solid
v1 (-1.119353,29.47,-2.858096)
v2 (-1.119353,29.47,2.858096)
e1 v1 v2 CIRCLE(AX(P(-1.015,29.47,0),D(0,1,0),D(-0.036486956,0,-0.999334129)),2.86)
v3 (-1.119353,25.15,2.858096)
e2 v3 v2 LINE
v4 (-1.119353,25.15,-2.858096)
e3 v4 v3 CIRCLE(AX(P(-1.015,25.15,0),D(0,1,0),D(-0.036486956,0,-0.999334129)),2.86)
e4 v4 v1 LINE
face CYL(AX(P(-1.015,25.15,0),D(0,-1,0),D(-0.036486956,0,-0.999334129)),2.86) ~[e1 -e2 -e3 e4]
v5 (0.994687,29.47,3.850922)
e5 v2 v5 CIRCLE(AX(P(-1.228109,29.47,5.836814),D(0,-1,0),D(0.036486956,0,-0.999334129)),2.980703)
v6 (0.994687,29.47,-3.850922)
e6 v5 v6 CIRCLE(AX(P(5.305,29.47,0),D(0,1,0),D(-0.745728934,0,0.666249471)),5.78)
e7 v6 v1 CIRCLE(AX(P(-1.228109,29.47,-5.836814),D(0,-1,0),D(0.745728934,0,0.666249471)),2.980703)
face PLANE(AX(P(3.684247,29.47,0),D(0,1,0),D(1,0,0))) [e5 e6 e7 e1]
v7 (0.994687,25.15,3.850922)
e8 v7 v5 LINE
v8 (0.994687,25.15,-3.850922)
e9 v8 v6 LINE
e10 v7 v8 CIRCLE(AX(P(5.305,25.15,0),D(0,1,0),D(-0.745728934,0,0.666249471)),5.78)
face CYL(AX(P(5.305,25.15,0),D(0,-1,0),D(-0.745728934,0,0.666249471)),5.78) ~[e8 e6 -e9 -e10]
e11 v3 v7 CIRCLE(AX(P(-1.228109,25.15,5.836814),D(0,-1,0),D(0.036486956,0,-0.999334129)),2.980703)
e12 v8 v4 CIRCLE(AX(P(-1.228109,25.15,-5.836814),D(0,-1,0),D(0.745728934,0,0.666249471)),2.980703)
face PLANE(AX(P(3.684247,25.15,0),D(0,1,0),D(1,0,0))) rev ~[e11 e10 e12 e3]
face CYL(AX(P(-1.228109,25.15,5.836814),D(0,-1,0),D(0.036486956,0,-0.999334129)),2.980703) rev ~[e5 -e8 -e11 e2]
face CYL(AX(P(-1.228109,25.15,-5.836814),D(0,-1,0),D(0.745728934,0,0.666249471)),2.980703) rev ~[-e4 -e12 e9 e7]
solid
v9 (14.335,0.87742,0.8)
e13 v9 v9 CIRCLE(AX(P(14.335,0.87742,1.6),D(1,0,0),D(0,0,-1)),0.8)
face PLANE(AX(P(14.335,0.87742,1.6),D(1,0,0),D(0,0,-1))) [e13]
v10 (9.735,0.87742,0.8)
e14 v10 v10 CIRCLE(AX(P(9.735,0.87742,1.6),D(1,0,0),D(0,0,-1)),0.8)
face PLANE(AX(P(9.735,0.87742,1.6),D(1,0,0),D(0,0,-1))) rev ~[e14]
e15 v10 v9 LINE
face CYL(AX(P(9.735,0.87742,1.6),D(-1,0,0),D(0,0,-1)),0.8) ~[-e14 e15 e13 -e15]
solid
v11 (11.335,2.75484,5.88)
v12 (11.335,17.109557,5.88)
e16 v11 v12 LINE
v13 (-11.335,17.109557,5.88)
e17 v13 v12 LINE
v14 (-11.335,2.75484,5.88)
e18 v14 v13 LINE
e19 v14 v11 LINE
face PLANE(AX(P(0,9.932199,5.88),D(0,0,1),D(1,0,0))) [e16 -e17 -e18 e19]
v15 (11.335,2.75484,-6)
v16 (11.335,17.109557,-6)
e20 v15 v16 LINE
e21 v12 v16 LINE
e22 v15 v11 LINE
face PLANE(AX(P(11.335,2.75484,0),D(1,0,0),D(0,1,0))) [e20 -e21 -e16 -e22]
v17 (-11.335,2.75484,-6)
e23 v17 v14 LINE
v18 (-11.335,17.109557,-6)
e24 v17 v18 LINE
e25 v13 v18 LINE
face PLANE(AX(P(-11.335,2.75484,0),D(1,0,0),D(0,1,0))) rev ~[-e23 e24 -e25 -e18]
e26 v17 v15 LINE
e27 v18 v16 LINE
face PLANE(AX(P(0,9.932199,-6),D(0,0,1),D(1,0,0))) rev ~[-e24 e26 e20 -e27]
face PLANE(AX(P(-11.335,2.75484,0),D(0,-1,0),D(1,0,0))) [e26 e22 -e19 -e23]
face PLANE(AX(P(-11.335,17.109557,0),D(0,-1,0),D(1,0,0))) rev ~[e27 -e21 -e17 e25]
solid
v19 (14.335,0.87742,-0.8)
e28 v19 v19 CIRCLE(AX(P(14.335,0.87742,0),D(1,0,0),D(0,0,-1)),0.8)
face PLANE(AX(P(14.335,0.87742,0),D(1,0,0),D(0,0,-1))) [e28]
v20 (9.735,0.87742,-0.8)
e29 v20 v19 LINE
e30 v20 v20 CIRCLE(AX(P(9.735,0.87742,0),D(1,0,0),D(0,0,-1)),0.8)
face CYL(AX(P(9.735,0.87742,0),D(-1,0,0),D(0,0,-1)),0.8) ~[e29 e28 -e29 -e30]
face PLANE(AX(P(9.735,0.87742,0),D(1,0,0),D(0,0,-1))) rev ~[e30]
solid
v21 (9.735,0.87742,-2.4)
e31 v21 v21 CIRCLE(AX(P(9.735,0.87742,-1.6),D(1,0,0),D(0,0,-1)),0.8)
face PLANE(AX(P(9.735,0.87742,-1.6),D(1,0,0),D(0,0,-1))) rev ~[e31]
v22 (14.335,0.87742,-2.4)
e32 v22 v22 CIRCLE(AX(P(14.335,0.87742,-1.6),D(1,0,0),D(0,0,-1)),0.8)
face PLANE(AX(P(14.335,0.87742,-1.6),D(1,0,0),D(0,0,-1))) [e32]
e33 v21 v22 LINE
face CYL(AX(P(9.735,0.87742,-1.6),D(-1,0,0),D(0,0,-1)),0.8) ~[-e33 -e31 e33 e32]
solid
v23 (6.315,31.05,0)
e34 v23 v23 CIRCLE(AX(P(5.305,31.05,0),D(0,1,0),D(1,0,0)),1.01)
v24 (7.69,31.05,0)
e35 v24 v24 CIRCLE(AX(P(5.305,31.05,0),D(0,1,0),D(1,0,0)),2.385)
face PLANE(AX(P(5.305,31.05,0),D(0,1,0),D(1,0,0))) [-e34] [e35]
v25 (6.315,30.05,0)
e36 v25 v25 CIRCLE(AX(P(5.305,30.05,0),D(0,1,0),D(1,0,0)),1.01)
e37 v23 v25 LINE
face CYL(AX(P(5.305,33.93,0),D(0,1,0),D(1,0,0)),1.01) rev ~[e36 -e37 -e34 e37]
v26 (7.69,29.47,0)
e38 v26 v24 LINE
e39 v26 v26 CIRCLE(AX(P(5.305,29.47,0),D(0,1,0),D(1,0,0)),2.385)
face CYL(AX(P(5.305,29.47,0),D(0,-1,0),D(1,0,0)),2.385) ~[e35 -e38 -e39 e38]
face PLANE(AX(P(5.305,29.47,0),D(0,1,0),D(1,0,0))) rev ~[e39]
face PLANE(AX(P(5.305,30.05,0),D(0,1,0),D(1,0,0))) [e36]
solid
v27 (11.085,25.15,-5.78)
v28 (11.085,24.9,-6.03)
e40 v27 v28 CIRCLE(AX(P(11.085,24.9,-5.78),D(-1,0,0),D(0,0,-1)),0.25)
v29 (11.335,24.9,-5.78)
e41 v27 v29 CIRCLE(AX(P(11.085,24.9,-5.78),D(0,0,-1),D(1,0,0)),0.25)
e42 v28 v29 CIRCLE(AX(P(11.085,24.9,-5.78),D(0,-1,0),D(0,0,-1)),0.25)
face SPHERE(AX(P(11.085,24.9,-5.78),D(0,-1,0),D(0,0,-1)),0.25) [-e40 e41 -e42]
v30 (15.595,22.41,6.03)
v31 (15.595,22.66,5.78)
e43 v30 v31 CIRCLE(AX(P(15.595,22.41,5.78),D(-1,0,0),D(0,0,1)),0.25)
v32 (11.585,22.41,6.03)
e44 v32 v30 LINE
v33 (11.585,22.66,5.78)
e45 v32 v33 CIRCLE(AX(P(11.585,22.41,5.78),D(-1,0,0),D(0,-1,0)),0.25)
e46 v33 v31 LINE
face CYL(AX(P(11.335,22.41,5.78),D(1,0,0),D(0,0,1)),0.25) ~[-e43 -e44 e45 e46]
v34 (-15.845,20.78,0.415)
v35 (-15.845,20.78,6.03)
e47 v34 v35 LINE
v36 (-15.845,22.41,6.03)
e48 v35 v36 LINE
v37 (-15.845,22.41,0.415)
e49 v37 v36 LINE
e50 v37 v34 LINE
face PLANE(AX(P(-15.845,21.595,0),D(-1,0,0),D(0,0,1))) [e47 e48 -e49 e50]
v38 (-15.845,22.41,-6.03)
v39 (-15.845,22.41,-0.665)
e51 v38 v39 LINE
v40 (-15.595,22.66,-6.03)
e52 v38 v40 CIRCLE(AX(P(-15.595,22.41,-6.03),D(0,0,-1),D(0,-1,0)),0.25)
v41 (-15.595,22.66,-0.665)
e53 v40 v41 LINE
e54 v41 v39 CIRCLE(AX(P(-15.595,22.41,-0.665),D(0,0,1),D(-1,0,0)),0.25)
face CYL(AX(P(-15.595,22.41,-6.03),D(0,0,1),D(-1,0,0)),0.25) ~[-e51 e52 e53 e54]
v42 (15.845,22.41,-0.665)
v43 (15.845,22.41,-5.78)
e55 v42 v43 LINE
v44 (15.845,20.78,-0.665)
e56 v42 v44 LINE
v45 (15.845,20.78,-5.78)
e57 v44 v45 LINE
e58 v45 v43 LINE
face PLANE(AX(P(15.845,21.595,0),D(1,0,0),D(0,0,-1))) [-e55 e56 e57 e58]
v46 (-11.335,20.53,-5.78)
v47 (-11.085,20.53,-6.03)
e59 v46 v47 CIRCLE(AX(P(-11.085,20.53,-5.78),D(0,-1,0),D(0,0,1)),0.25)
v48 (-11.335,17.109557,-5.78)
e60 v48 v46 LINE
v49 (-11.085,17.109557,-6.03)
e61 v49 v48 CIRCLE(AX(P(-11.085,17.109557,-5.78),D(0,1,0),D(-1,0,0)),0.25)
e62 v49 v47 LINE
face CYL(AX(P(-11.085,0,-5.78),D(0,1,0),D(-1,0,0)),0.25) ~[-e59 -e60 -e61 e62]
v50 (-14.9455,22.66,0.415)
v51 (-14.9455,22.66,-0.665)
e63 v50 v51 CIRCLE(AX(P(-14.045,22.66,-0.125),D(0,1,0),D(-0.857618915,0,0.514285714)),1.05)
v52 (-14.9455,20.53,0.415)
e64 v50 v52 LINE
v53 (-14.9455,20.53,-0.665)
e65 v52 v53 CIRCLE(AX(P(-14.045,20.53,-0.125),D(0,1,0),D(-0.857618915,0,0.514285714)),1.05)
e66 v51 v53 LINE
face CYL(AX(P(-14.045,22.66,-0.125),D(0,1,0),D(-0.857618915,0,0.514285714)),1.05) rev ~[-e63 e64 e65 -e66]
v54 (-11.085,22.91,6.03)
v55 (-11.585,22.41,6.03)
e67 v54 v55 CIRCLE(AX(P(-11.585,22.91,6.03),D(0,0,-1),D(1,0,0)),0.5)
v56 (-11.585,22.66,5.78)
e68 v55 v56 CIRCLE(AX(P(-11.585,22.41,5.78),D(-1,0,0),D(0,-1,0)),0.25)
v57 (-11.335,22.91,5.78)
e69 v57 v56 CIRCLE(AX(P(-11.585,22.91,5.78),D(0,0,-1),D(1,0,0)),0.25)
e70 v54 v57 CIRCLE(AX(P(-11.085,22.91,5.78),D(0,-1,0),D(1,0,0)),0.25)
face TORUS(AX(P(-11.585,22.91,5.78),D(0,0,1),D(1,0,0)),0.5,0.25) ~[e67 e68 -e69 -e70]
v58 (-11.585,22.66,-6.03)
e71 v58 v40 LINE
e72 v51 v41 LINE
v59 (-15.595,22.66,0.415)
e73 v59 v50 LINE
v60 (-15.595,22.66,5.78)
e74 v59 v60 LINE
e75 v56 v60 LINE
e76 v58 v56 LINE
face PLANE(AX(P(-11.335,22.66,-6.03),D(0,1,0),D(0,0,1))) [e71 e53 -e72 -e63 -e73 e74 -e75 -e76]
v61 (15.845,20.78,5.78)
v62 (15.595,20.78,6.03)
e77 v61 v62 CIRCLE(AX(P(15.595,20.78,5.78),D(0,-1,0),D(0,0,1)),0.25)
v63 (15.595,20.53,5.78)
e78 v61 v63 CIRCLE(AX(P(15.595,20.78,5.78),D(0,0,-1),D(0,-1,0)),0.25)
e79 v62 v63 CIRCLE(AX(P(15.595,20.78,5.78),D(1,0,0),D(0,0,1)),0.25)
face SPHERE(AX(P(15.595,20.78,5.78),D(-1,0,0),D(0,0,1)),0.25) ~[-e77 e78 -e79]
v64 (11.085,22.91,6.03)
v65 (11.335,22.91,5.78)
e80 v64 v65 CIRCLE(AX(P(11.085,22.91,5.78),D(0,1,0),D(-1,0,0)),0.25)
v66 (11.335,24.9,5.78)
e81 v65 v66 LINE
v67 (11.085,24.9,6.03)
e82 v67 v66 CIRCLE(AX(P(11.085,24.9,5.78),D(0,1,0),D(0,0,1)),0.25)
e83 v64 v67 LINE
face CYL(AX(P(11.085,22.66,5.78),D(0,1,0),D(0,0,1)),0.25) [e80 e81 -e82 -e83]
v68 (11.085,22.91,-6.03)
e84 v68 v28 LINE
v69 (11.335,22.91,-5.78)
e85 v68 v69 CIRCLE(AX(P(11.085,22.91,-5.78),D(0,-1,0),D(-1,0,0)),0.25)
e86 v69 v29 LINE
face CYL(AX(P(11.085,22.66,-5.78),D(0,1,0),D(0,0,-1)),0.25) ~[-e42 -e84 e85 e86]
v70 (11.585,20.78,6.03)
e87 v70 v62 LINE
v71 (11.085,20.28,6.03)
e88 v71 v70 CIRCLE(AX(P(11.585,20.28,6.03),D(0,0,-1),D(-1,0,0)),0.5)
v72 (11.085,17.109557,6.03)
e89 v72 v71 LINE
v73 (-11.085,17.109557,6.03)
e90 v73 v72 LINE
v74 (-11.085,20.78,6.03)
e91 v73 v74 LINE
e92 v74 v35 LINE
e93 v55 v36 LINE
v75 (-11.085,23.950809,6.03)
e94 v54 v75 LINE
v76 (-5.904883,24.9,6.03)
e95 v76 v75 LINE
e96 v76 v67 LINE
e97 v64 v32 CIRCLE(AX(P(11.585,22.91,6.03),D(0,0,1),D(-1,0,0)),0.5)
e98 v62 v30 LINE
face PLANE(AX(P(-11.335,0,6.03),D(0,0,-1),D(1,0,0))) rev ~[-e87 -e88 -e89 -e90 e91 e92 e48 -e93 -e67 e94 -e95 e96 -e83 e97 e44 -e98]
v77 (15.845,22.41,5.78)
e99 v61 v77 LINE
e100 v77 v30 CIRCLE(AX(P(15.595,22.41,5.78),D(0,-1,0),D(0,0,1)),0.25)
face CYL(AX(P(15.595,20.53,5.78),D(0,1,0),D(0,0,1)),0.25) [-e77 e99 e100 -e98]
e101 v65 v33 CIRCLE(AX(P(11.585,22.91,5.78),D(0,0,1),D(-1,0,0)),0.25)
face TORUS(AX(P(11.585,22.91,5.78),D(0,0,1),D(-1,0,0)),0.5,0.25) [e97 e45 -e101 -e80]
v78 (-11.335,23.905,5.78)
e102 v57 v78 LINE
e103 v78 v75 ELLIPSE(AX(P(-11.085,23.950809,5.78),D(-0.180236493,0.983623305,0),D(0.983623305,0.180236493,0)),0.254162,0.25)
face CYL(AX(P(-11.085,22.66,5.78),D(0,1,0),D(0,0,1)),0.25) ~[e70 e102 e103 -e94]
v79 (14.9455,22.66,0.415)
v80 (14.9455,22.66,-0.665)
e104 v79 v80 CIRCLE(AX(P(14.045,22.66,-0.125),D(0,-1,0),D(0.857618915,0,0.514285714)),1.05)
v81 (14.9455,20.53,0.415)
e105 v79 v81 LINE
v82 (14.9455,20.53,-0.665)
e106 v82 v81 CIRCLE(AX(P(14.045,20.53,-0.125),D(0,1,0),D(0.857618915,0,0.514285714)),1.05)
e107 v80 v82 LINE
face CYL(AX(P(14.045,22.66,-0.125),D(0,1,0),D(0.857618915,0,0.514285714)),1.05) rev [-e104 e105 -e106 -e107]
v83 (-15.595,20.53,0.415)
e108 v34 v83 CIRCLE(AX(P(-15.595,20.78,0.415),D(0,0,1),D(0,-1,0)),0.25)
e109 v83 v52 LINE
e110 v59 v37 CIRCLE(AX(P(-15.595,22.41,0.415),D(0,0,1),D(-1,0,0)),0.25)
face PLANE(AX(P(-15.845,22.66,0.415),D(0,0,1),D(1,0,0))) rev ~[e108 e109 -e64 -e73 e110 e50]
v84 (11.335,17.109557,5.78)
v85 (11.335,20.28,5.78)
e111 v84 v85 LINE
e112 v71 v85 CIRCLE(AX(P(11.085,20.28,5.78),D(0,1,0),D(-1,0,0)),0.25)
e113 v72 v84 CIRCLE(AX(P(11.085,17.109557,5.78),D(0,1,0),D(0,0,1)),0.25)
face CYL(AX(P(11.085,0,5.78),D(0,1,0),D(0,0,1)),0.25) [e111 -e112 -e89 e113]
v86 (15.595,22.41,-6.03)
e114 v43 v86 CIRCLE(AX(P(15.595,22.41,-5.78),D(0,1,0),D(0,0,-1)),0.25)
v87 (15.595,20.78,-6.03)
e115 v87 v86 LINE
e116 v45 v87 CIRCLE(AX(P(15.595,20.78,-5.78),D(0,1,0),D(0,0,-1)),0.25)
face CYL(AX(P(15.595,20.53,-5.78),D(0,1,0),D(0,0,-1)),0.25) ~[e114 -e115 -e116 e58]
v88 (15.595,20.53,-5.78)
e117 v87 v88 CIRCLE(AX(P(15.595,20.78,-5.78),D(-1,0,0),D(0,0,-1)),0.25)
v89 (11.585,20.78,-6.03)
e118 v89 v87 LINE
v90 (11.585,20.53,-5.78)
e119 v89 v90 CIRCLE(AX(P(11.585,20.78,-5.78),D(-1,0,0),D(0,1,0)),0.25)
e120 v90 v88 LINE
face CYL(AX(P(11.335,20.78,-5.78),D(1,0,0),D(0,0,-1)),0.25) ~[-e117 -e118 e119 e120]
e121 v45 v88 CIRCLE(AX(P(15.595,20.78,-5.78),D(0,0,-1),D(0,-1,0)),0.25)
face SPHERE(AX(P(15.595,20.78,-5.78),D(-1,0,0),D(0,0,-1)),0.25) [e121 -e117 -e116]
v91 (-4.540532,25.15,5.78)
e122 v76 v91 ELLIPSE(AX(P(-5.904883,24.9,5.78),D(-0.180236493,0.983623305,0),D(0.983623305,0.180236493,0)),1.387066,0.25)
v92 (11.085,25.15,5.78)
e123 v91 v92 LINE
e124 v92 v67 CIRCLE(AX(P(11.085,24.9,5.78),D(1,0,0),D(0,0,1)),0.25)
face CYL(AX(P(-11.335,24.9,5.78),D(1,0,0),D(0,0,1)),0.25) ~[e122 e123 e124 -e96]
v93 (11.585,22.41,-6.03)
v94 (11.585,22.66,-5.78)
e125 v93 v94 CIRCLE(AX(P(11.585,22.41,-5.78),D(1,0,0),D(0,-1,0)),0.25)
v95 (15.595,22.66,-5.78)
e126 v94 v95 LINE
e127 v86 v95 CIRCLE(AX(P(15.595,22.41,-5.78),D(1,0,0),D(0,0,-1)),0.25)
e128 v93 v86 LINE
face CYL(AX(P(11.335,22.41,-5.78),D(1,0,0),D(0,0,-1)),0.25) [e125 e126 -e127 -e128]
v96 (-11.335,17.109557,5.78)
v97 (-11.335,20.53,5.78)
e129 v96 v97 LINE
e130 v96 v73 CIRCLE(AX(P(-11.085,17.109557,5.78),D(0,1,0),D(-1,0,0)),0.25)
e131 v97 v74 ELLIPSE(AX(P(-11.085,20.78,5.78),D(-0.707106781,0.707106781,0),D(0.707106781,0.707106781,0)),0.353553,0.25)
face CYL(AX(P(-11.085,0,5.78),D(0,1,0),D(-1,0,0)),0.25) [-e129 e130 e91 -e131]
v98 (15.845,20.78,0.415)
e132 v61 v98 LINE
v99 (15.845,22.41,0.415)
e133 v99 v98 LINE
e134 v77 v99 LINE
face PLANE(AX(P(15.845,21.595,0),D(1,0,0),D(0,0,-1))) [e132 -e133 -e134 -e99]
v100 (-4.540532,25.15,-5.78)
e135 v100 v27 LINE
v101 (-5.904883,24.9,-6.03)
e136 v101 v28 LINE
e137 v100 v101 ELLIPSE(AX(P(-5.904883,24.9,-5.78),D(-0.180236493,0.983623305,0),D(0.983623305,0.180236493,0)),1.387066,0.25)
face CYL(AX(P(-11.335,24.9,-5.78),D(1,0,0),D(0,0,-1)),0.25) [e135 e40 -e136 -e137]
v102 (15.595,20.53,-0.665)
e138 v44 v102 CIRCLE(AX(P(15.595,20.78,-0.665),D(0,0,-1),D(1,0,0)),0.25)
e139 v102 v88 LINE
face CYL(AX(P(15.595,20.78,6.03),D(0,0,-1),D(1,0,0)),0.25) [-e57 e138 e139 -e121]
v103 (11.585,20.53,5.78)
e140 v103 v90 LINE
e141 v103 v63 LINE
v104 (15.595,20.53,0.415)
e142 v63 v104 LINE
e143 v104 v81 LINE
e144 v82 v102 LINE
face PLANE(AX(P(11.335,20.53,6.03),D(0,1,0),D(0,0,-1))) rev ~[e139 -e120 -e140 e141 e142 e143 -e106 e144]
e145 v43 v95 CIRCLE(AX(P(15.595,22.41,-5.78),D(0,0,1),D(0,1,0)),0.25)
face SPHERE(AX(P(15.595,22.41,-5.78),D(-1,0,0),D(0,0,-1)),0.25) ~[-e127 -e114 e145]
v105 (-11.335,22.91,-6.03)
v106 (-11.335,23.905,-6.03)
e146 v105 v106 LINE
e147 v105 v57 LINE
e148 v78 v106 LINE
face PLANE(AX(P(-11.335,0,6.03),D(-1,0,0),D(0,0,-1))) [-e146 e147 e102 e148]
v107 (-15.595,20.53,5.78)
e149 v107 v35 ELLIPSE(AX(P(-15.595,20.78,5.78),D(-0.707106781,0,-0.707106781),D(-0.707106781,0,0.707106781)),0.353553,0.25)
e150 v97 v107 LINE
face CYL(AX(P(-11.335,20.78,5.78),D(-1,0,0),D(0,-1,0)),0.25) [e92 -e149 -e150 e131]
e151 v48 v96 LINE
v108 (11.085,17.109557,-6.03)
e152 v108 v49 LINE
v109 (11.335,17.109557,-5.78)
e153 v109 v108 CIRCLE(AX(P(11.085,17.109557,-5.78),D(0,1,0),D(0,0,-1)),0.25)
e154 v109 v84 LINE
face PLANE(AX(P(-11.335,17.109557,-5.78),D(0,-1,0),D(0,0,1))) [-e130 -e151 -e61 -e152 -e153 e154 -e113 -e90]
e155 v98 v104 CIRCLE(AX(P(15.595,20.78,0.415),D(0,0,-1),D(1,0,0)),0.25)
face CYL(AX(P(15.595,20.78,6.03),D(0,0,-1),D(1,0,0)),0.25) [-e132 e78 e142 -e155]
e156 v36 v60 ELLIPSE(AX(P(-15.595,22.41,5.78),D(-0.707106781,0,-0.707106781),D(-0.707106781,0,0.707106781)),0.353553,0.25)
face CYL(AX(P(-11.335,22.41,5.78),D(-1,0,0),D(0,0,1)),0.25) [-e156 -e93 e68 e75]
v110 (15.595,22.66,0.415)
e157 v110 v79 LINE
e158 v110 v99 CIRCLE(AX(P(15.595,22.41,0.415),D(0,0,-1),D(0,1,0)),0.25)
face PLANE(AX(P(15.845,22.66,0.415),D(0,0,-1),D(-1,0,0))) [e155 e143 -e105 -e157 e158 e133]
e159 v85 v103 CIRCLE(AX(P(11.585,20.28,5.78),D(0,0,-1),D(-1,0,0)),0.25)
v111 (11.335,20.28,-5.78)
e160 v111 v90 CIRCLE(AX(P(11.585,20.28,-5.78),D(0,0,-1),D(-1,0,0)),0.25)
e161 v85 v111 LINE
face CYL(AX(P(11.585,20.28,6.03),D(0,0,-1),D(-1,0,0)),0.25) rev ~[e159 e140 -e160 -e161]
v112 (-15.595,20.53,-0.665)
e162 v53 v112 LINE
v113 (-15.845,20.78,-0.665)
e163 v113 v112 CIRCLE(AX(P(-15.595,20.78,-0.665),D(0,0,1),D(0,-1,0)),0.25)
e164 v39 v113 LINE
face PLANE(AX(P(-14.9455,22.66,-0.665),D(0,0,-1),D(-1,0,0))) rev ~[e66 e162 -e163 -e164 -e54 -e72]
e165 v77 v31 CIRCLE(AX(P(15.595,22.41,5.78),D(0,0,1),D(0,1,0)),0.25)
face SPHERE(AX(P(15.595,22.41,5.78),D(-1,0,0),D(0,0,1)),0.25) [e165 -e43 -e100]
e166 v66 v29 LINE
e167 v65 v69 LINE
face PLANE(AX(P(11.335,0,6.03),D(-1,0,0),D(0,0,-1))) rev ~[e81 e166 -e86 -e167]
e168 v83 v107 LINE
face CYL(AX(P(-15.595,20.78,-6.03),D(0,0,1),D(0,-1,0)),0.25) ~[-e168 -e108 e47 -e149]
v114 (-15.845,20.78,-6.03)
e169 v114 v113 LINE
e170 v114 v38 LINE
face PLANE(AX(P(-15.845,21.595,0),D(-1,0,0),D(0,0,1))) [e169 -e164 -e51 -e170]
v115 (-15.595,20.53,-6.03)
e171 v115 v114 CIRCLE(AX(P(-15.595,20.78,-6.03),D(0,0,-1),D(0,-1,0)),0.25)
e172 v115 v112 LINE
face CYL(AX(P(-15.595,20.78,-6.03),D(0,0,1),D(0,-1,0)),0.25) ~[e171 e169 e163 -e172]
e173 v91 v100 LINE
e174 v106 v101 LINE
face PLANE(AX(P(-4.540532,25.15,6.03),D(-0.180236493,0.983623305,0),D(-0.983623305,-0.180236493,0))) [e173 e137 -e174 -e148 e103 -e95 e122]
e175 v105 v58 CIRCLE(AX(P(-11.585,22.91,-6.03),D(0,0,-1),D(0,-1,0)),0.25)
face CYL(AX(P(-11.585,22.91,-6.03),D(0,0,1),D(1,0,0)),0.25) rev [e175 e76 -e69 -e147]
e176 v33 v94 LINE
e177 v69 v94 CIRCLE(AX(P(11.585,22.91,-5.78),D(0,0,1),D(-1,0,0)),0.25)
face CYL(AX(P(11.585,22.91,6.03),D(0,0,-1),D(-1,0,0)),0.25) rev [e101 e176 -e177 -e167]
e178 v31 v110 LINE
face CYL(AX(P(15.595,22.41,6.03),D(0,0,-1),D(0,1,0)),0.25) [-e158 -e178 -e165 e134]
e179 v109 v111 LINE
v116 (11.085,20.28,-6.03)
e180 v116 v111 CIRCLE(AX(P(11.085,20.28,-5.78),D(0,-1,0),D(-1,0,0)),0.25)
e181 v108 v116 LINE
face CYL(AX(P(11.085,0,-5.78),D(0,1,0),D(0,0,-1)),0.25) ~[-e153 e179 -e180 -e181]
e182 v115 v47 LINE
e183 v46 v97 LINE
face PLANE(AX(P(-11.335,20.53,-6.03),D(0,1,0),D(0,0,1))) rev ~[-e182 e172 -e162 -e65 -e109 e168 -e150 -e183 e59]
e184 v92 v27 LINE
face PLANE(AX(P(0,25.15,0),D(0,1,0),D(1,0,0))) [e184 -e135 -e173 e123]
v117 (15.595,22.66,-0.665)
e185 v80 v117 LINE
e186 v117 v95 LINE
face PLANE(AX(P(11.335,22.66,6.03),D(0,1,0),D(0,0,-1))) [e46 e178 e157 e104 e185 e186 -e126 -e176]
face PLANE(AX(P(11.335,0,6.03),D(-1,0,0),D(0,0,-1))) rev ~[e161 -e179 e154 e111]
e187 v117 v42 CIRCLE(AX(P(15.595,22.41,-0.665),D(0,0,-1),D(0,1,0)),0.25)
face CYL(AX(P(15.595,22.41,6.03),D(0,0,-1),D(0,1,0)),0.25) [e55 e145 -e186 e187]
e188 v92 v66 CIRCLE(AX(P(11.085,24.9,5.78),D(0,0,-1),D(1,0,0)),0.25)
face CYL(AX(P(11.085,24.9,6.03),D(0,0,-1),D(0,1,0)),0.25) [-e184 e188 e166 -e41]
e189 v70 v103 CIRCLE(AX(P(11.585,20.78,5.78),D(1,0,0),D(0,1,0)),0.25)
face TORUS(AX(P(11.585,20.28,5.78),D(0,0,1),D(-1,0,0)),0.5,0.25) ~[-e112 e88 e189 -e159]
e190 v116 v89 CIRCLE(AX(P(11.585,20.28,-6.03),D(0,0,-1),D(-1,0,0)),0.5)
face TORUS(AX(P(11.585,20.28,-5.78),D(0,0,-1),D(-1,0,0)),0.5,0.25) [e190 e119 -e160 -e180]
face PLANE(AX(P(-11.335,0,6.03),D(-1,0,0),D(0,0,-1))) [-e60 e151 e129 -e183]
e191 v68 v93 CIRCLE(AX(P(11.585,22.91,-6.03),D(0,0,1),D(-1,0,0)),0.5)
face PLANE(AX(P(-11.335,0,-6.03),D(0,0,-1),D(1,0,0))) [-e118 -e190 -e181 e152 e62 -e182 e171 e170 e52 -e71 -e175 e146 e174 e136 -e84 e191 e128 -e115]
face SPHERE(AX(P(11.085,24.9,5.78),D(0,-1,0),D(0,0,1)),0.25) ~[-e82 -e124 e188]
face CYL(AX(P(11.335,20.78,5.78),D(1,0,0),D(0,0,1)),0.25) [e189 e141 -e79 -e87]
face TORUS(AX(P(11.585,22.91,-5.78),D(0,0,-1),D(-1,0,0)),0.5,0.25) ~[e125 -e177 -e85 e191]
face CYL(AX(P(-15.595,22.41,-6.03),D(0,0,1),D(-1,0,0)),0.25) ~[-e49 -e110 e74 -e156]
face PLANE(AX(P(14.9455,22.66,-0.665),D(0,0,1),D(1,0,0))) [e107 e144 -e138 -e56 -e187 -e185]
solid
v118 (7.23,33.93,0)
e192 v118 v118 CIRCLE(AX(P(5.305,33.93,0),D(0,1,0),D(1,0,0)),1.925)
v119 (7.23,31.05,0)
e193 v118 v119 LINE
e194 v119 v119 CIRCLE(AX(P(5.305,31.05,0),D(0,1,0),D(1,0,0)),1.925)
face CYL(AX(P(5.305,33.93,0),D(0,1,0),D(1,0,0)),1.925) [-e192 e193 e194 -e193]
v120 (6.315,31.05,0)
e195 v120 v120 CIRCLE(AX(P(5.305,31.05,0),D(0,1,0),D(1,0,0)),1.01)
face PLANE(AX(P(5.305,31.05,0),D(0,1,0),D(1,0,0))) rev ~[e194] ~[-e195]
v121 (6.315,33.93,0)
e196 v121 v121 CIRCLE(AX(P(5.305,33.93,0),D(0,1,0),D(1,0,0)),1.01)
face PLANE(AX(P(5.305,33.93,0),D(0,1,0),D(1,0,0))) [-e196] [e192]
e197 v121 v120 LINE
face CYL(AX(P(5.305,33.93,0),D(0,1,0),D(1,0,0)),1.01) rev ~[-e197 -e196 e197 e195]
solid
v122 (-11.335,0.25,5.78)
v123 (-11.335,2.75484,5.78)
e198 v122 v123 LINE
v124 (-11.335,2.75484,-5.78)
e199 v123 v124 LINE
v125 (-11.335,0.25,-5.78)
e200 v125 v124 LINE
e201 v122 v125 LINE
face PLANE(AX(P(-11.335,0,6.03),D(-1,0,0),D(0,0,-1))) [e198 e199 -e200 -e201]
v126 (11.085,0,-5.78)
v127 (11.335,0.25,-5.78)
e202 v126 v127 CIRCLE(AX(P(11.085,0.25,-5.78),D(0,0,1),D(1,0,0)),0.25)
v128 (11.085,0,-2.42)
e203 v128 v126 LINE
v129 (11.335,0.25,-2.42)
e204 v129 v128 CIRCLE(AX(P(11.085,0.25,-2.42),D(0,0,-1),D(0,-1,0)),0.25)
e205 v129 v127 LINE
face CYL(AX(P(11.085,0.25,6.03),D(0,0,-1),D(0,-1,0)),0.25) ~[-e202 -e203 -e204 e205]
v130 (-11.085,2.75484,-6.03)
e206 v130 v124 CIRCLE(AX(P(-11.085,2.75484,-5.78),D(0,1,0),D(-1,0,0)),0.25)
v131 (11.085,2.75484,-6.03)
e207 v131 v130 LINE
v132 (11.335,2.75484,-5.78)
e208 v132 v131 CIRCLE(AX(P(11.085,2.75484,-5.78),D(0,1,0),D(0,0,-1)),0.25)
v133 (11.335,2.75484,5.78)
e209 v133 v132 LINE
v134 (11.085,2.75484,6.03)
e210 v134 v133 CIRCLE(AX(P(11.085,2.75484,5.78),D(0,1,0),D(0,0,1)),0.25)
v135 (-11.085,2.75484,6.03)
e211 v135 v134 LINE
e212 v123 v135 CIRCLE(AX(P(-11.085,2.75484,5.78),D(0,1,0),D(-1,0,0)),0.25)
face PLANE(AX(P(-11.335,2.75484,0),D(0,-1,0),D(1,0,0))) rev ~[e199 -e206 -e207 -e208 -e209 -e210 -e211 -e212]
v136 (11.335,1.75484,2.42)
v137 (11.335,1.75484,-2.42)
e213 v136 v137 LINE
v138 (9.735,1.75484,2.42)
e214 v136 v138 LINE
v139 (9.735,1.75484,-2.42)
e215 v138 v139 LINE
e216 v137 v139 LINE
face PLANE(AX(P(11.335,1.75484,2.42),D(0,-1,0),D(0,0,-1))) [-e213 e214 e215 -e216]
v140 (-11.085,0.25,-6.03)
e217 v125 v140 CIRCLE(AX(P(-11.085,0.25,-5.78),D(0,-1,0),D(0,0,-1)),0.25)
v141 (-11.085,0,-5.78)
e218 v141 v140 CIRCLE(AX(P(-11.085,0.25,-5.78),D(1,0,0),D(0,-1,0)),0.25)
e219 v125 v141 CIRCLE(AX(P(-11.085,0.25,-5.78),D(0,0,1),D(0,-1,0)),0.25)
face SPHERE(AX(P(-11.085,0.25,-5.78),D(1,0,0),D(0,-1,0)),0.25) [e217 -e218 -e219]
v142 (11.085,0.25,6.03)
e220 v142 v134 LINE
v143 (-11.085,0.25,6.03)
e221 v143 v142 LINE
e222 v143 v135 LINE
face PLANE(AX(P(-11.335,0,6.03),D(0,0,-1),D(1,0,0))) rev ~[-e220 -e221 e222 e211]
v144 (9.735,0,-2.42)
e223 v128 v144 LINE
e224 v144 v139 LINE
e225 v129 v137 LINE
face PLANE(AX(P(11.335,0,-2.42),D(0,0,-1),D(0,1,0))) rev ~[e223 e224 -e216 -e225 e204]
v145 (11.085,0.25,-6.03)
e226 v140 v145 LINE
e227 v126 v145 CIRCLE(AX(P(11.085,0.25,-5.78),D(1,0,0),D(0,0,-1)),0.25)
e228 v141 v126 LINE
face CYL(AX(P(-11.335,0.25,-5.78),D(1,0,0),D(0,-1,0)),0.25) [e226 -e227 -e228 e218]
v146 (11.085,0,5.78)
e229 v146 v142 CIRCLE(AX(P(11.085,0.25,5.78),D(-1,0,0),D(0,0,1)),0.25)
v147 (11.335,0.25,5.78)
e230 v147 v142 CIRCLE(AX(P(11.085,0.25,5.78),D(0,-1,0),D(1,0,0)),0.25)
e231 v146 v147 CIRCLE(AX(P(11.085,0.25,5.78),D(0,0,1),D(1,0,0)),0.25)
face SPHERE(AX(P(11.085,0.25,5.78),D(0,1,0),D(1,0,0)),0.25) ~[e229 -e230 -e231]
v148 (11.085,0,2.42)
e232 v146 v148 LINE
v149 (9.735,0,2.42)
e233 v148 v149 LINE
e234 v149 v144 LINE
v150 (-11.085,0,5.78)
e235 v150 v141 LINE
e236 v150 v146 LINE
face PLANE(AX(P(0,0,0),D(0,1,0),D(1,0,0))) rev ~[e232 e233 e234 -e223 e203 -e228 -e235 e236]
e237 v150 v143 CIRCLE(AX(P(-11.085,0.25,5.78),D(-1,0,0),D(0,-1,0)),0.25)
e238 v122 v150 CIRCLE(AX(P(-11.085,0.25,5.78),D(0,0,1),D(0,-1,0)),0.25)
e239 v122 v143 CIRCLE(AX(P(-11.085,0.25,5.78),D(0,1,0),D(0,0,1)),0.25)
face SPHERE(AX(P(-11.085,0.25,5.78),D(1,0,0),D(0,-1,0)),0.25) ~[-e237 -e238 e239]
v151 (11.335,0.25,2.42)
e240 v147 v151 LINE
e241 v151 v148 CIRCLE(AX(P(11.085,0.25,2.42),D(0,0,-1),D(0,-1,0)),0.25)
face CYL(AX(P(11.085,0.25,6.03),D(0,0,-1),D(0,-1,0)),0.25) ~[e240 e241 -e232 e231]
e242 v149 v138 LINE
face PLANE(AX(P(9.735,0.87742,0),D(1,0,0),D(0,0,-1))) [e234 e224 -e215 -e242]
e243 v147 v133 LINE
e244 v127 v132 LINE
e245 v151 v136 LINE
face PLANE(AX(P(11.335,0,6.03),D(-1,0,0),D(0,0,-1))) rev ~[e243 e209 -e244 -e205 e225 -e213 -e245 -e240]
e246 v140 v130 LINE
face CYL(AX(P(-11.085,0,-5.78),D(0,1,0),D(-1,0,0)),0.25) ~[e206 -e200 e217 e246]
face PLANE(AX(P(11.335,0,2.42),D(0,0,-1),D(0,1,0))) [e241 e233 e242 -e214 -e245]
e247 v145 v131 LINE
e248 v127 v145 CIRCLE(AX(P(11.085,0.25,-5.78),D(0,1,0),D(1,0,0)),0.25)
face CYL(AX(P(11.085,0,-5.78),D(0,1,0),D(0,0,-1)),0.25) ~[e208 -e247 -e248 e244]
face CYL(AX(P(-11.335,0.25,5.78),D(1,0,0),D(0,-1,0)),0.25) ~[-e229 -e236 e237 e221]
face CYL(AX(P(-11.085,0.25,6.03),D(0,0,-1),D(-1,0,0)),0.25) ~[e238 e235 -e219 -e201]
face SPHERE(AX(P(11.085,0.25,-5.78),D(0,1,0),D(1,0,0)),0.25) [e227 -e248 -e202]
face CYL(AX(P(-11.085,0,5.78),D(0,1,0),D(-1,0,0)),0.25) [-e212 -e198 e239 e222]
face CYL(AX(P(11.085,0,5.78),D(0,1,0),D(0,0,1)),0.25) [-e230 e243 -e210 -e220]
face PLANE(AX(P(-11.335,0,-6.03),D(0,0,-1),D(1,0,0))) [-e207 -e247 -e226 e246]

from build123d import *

# Parameters (mm, degrees)
CROQUIS1_W                   = 22.67
CROQUIS1_H                   = 12.06
SALIENTE_EXTRUIR1_DEPTH      = 25.15
CROQUIS2_W                   = 12.06
CROQUIS2_H                   = 2.13
SALIENTE_EXTRUIR2_DEPTH      = 4.51
CROQUIS5_W                   = 12.06
CROQUIS5_H                   = 2.13
SALIENTE_EXTRUIR3_DEPTH      = 4.51
REDONDEO1_R                  = 0.25
CORTAR_EXTRUIR12_DEPTH       = 4.51
SALIENTE_EXTRUIR4_DEPTH      = 4.32
CROQUIS9_R                   = 2.385
SALIENTE_EXTRUIR5_DEPTH      = 1.58
CROQUIS10_R                  = 2.385
SALIENTE_EXTRUIR6_DEPTH      = 2.88
CROQUIS11_R                  = 1.01
CORTAR_EXTRUIR13_DEPTH       = 3.88
CROQUIS12_R                  = 2.385
CROQUIS12_R_2                = 1.925
CORTAR_EXTRUIR14_DEPTH       = 2.88
CORTAR_EXTRUIR15_DEPTH       = 16.88
CROQUIS14_W                  = 22.17
CROQUIS14_H                  = 14.33
CORTAR_EXTRUIR16_DEPTH       = 16.88
CROQUIS16_W                  = 11.56
CROQUIS16_H                  = 14.354716837
CORTAR_EXTRUIR17_DEPTH       = 27.88
CROQUIS17_W                  = 22.67
CROQUIS17_H                  = 14.354716837
CORTAR_EXTRUIR18_DEPTH       = 27.88
CORTAR_EXTRUIR18_DEPTH_BACK  = 27.88
CROQUIS18_W                  = 22.67
CROQUIS18_H                  = 14.354716837
SALIENTE_EXTRUIR7_DEPTH      = 5.88
SALIENTE_EXTRUIR7_DEPTH_BACK = 6
CROQUIS19_W                  = 4.84
CROQUIS19_H                  = 1.754840309
CORTAR_EXTRUIR19_DEPTH       = 1.6
CROQUIS20_R                  = 0.8
SALIENTE_EXTRUIR8_DEPTH      = 4.6
SALIENTE_EXTRUIR8_2_DEPTH    = 4.6
SALIENTE_EXTRUIR8_3_DEPTH    = 4.6


with BuildPart() as part:
    # Croquis1 → Saliente-Extruir1 (new body)
    with BuildSketch(Plane(origin=(0, 0, 0), x_dir=(1, 0, 0), z_dir=(0, 1, 0))):
        Rectangle(CROQUIS1_W, CROQUIS1_H)
    extrude(amount=SALIENTE_EXTRUIR1_DEPTH)

    # Croquis2 → Saliente-Extruir2 (add)
    with BuildSketch(Plane(origin=(11.335, 0, 0), x_dir=(0, 0, -1), z_dir=(1, 0, 0))):
        with Locations((0, 21.595)):
            Rectangle(CROQUIS2_W, CROQUIS2_H)
    extrude(amount=SALIENTE_EXTRUIR2_DEPTH)

    # Croquis5 → Saliente-Extruir3 (add)
    with BuildSketch(Plane.ZY.offset(11.335)):
        with Locations((0, 21.595)):
            Rectangle(CROQUIS5_W, CROQUIS5_H)
    extrude(amount=SALIENTE_EXTRUIR3_DEPTH)

    # Redondeo1
    redondeo1_edges = [part.edges().sort_by_distance(p)[0] for p in [
        (-11.335, 23.905, 6.03),
        (11.335, 10.265, 6.03),
        (11.335, 23.905, 6.03),
        (11.335, 23.905, -6.03),
        (11.335, 10.265, -6.03),
        (11.335, 0, 0),
        (0, 0, -6.03),
        (0, 0, 6.03),
        (-11.335, 0, 0),
        (-11.335, 10.265, -6.03),
        (-11.335, 10.265, 6.03),
        (-13.59, 20.53, 6.03),
        (-13.59, 22.66, 6.03),
        (0, 25.15, -6.03),
        (0, 25.15, 6.03),
        (-11.335, 22.66, 0),
        (-11.335, 25.15, 0),
        (11.335, 25.15, 0),
        (13.59, 20.53, 6.03),
        (13.59, 22.66, 6.03),
        (13.59, 22.66, -6.03),
        (13.59, 20.53, -6.03),
        (11.335, 20.53, 0),
        (11.335, 22.66, 0),
        (15.845, 21.595, -6.03),
        (15.845, 21.595, 6.03),
        (15.845, 20.53, 0),
        (15.845, 22.66, 0),
        (-15.845, 20.53, 0),
        (-15.845, 22.66, 0),
    ]]
    fillet(redondeo1_edges, radius=REDONDEO1_R)

    # Croquis6 → Cortar-Extruir12 (cut)
    with BuildSketch(Plane(origin=(0, 22.66, 0), x_dir=(1, 0, 0), z_dir=(0, 1, 0))):
        with BuildLine():
            Line((-14.945499861, 0.665), (-15.845, 0.665))
            Line((-15.845, 0.665), (-15.845, -0.415))
            Line((-15.845, -0.415), (-14.945499861, -0.415))
            ThreePointArc((-14.945499861, -0.415), (-12.995, 0.125), (-14.945499861, 0.665))
        make_face()
        with BuildLine():
            Line((15.845, -0.415), (14.945499861, -0.415))
            ThreePointArc((14.945499861, -0.415), (12.995, 0.125), (14.945499861, 0.665))
            Line((14.945499861, 0.665), (15.845, 0.665))
            Line((15.845, 0.665), (15.845, -0.415))
        make_face()
    extrude(amount=-CORTAR_EXTRUIR12_DEPTH, mode=Mode.SUBTRACT)

    # Croquis13 → Cortar-Extruir15 (cut)
    with BuildSketch(Plane.XY.offset(6.03)):
        Polygon((-4.540532383, 25.15), (-11.335, 23.905), (-11.335, 25.15), align=None)
    extrude(amount=-CORTAR_EXTRUIR15_DEPTH, mode=Mode.SUBTRACT)

    # Croquis14 → Cortar-Extruir16 (cut)
    with BuildSketch(Plane.XY.offset(6.03)):
        with Locations((0, 9.935)):
            Rectangle(CROQUIS14_W, CROQUIS14_H)
    extrude(amount=-CORTAR_EXTRUIR16_DEPTH, mode=Mode.SUBTRACT)

    # Croquis16 → Cortar-Extruir17 (cut)
    with BuildSketch(Plane.ZY.offset(11.335)):
        with Locations((0, 9.932198727)):
            Rectangle(CROQUIS16_W, CROQUIS16_H)
    extrude(amount=-CORTAR_EXTRUIR17_DEPTH, mode=Mode.SUBTRACT)

    # Croquis17 → Cortar-Extruir18 (cut, two sides)
    with BuildSketch(Plane.XY) as cortar_extruir18_sk:
        with Locations((0, 9.932198727)):
            Rectangle(CROQUIS17_W, CROQUIS17_H)
    extrude(amount=CORTAR_EXTRUIR18_DEPTH, mode=Mode.SUBTRACT)
    extrude(cortar_extruir18_sk.sketch, amount=-CORTAR_EXTRUIR18_DEPTH_BACK, mode=Mode.SUBTRACT)

    # Croquis19 → Cortar-Extruir19 (cut)
    with BuildSketch(Plane(origin=(11.335, 0, 0), x_dir=(0, 0, -1), z_dir=(1, 0, 0))):
        with Locations((0, 0.877420155)):
            Rectangle(CROQUIS19_W, CROQUIS19_H)
    extrude(amount=-CORTAR_EXTRUIR19_DEPTH, mode=Mode.SUBTRACT)


with BuildPart() as body_2:
    # Croquis8 → Saliente-Extruir4 (new body)
    with BuildSketch(Plane(origin=(0, 25.15, 0), x_dir=(1, 0, 0), z_dir=(0, 1, 0))):
        with BuildLine():
            ThreePointArc((0.994686763, -3.850921942), (11.085, 0), (0.994686763, 3.850921942))
            ThreePointArc((0.994686763, 3.850921942), (0.038958362, 3.138827688), (-1.119352695, 2.85809561))
            ThreePointArc((-1.119352695, 2.85809561), (-3.875, 0), (-1.119352695, -2.85809561))
            ThreePointArc((-1.119352695, -2.85809561), (0.038958362, -3.138827688), (0.994686763, -3.850921942))
        make_face()
    extrude(amount=SALIENTE_EXTRUIR4_DEPTH)


with BuildPart() as body_3:
    # Croquis9 → Saliente-Extruir5 (new body)
    with BuildSketch(Plane(origin=(0, 29.47, 0), x_dir=(1, 0, 0), z_dir=(0, 1, 0))):
        with Locations((5.305, 0)):
            Circle(CROQUIS9_R)
    extrude(amount=SALIENTE_EXTRUIR5_DEPTH)


with BuildPart() as body_4:
    # Croquis10 → Saliente-Extruir6 (new body)
    with BuildSketch(Plane(origin=(0, 31.05, 0), x_dir=(1, 0, 0), z_dir=(0, 1, 0))):
        with Locations((5.305, 0)):
            Circle(CROQUIS10_R)
    extrude(amount=SALIENTE_EXTRUIR6_DEPTH)


with BuildPart() as cortar_extruir13_tool:
    # Croquis11 → Cortar-Extruir13 (new body)
    with BuildSketch(Plane(origin=(0, 33.93, 0), x_dir=(1, 0, 0), z_dir=(0, 1, 0))):
        with Locations((5.305, 0)):
            Circle(CROQUIS11_R)
    extrude(amount=-CORTAR_EXTRUIR13_DEPTH)


with BuildPart() as body_3_1:
    add(body_3.part)

    # Cortar-Extruir13: cut by cortar_extruir13_tool
    add(cortar_extruir13_tool.part, mode=Mode.SUBTRACT)


with BuildPart() as body_4_1:
    add(body_4.part)

    # Cortar-Extruir13: cut by cortar_extruir13_tool
    add(cortar_extruir13_tool.part, mode=Mode.SUBTRACT)

    # Croquis12 → Cortar-Extruir14 (cut)
    with BuildSketch(Plane(origin=(0, 33.93, 0), x_dir=(1, 0, 0), z_dir=(0, 1, 0))):
        with Locations((5.305, 0)):
            Circle(CROQUIS12_R)
        with Locations((5.305, 0)):
            Circle(CROQUIS12_R_2, mode=Mode.SUBTRACT)
    extrude(amount=-CORTAR_EXTRUIR14_DEPTH, mode=Mode.SUBTRACT)


with BuildPart() as body_5:
    # Croquis18 → Saliente-Extruir7 (new body, two sides)
    with BuildSketch(Plane.XY) as saliente_extruir7_sk:
        with Locations((0, 9.932198727)):
            Rectangle(CROQUIS18_W, CROQUIS18_H)
    extrude(amount=SALIENTE_EXTRUIR7_DEPTH)
    extrude(saliente_extruir7_sk.sketch, amount=-SALIENTE_EXTRUIR7_DEPTH_BACK)


with BuildPart() as body_6:
    # Croquis20 → Saliente-Extruir8 (new body)
    with BuildSketch(Plane(origin=(9.735, 0, 0), x_dir=(0, 0, -1), z_dir=(1, 0, 0))):
        with Locations((-1.6, 0.877420155)):
            Circle(CROQUIS20_R)
    extrude(amount=SALIENTE_EXTRUIR8_DEPTH)


with BuildPart() as body_7:
    # Croquis20 → Saliente-Extruir8 2 (new body)
    with BuildSketch(Plane(origin=(9.735, 0, 0), x_dir=(0, 0, -1), z_dir=(1, 0, 0))):
        with Locations((0, 0.877420155)):
            Circle(CROQUIS20_R)
    extrude(amount=SALIENTE_EXTRUIR8_2_DEPTH)


with BuildPart() as body_8:
    # Croquis20 → Saliente-Extruir8 3 (new body)
    with BuildSketch(Plane(origin=(9.735, 0, 0), x_dir=(0, 0, -1), z_dir=(1, 0, 0))):
        with Locations((1.6, 0.877420155)):
            Circle(CROQUIS20_R)
    extrude(amount=SALIENTE_EXTRUIR8_3_DEPTH)


solid = Compound([part.part, body_2.part, body_3_1.part, body_4_1.part, body_5.part, body_6.part, body_7.part, body_8.part])
